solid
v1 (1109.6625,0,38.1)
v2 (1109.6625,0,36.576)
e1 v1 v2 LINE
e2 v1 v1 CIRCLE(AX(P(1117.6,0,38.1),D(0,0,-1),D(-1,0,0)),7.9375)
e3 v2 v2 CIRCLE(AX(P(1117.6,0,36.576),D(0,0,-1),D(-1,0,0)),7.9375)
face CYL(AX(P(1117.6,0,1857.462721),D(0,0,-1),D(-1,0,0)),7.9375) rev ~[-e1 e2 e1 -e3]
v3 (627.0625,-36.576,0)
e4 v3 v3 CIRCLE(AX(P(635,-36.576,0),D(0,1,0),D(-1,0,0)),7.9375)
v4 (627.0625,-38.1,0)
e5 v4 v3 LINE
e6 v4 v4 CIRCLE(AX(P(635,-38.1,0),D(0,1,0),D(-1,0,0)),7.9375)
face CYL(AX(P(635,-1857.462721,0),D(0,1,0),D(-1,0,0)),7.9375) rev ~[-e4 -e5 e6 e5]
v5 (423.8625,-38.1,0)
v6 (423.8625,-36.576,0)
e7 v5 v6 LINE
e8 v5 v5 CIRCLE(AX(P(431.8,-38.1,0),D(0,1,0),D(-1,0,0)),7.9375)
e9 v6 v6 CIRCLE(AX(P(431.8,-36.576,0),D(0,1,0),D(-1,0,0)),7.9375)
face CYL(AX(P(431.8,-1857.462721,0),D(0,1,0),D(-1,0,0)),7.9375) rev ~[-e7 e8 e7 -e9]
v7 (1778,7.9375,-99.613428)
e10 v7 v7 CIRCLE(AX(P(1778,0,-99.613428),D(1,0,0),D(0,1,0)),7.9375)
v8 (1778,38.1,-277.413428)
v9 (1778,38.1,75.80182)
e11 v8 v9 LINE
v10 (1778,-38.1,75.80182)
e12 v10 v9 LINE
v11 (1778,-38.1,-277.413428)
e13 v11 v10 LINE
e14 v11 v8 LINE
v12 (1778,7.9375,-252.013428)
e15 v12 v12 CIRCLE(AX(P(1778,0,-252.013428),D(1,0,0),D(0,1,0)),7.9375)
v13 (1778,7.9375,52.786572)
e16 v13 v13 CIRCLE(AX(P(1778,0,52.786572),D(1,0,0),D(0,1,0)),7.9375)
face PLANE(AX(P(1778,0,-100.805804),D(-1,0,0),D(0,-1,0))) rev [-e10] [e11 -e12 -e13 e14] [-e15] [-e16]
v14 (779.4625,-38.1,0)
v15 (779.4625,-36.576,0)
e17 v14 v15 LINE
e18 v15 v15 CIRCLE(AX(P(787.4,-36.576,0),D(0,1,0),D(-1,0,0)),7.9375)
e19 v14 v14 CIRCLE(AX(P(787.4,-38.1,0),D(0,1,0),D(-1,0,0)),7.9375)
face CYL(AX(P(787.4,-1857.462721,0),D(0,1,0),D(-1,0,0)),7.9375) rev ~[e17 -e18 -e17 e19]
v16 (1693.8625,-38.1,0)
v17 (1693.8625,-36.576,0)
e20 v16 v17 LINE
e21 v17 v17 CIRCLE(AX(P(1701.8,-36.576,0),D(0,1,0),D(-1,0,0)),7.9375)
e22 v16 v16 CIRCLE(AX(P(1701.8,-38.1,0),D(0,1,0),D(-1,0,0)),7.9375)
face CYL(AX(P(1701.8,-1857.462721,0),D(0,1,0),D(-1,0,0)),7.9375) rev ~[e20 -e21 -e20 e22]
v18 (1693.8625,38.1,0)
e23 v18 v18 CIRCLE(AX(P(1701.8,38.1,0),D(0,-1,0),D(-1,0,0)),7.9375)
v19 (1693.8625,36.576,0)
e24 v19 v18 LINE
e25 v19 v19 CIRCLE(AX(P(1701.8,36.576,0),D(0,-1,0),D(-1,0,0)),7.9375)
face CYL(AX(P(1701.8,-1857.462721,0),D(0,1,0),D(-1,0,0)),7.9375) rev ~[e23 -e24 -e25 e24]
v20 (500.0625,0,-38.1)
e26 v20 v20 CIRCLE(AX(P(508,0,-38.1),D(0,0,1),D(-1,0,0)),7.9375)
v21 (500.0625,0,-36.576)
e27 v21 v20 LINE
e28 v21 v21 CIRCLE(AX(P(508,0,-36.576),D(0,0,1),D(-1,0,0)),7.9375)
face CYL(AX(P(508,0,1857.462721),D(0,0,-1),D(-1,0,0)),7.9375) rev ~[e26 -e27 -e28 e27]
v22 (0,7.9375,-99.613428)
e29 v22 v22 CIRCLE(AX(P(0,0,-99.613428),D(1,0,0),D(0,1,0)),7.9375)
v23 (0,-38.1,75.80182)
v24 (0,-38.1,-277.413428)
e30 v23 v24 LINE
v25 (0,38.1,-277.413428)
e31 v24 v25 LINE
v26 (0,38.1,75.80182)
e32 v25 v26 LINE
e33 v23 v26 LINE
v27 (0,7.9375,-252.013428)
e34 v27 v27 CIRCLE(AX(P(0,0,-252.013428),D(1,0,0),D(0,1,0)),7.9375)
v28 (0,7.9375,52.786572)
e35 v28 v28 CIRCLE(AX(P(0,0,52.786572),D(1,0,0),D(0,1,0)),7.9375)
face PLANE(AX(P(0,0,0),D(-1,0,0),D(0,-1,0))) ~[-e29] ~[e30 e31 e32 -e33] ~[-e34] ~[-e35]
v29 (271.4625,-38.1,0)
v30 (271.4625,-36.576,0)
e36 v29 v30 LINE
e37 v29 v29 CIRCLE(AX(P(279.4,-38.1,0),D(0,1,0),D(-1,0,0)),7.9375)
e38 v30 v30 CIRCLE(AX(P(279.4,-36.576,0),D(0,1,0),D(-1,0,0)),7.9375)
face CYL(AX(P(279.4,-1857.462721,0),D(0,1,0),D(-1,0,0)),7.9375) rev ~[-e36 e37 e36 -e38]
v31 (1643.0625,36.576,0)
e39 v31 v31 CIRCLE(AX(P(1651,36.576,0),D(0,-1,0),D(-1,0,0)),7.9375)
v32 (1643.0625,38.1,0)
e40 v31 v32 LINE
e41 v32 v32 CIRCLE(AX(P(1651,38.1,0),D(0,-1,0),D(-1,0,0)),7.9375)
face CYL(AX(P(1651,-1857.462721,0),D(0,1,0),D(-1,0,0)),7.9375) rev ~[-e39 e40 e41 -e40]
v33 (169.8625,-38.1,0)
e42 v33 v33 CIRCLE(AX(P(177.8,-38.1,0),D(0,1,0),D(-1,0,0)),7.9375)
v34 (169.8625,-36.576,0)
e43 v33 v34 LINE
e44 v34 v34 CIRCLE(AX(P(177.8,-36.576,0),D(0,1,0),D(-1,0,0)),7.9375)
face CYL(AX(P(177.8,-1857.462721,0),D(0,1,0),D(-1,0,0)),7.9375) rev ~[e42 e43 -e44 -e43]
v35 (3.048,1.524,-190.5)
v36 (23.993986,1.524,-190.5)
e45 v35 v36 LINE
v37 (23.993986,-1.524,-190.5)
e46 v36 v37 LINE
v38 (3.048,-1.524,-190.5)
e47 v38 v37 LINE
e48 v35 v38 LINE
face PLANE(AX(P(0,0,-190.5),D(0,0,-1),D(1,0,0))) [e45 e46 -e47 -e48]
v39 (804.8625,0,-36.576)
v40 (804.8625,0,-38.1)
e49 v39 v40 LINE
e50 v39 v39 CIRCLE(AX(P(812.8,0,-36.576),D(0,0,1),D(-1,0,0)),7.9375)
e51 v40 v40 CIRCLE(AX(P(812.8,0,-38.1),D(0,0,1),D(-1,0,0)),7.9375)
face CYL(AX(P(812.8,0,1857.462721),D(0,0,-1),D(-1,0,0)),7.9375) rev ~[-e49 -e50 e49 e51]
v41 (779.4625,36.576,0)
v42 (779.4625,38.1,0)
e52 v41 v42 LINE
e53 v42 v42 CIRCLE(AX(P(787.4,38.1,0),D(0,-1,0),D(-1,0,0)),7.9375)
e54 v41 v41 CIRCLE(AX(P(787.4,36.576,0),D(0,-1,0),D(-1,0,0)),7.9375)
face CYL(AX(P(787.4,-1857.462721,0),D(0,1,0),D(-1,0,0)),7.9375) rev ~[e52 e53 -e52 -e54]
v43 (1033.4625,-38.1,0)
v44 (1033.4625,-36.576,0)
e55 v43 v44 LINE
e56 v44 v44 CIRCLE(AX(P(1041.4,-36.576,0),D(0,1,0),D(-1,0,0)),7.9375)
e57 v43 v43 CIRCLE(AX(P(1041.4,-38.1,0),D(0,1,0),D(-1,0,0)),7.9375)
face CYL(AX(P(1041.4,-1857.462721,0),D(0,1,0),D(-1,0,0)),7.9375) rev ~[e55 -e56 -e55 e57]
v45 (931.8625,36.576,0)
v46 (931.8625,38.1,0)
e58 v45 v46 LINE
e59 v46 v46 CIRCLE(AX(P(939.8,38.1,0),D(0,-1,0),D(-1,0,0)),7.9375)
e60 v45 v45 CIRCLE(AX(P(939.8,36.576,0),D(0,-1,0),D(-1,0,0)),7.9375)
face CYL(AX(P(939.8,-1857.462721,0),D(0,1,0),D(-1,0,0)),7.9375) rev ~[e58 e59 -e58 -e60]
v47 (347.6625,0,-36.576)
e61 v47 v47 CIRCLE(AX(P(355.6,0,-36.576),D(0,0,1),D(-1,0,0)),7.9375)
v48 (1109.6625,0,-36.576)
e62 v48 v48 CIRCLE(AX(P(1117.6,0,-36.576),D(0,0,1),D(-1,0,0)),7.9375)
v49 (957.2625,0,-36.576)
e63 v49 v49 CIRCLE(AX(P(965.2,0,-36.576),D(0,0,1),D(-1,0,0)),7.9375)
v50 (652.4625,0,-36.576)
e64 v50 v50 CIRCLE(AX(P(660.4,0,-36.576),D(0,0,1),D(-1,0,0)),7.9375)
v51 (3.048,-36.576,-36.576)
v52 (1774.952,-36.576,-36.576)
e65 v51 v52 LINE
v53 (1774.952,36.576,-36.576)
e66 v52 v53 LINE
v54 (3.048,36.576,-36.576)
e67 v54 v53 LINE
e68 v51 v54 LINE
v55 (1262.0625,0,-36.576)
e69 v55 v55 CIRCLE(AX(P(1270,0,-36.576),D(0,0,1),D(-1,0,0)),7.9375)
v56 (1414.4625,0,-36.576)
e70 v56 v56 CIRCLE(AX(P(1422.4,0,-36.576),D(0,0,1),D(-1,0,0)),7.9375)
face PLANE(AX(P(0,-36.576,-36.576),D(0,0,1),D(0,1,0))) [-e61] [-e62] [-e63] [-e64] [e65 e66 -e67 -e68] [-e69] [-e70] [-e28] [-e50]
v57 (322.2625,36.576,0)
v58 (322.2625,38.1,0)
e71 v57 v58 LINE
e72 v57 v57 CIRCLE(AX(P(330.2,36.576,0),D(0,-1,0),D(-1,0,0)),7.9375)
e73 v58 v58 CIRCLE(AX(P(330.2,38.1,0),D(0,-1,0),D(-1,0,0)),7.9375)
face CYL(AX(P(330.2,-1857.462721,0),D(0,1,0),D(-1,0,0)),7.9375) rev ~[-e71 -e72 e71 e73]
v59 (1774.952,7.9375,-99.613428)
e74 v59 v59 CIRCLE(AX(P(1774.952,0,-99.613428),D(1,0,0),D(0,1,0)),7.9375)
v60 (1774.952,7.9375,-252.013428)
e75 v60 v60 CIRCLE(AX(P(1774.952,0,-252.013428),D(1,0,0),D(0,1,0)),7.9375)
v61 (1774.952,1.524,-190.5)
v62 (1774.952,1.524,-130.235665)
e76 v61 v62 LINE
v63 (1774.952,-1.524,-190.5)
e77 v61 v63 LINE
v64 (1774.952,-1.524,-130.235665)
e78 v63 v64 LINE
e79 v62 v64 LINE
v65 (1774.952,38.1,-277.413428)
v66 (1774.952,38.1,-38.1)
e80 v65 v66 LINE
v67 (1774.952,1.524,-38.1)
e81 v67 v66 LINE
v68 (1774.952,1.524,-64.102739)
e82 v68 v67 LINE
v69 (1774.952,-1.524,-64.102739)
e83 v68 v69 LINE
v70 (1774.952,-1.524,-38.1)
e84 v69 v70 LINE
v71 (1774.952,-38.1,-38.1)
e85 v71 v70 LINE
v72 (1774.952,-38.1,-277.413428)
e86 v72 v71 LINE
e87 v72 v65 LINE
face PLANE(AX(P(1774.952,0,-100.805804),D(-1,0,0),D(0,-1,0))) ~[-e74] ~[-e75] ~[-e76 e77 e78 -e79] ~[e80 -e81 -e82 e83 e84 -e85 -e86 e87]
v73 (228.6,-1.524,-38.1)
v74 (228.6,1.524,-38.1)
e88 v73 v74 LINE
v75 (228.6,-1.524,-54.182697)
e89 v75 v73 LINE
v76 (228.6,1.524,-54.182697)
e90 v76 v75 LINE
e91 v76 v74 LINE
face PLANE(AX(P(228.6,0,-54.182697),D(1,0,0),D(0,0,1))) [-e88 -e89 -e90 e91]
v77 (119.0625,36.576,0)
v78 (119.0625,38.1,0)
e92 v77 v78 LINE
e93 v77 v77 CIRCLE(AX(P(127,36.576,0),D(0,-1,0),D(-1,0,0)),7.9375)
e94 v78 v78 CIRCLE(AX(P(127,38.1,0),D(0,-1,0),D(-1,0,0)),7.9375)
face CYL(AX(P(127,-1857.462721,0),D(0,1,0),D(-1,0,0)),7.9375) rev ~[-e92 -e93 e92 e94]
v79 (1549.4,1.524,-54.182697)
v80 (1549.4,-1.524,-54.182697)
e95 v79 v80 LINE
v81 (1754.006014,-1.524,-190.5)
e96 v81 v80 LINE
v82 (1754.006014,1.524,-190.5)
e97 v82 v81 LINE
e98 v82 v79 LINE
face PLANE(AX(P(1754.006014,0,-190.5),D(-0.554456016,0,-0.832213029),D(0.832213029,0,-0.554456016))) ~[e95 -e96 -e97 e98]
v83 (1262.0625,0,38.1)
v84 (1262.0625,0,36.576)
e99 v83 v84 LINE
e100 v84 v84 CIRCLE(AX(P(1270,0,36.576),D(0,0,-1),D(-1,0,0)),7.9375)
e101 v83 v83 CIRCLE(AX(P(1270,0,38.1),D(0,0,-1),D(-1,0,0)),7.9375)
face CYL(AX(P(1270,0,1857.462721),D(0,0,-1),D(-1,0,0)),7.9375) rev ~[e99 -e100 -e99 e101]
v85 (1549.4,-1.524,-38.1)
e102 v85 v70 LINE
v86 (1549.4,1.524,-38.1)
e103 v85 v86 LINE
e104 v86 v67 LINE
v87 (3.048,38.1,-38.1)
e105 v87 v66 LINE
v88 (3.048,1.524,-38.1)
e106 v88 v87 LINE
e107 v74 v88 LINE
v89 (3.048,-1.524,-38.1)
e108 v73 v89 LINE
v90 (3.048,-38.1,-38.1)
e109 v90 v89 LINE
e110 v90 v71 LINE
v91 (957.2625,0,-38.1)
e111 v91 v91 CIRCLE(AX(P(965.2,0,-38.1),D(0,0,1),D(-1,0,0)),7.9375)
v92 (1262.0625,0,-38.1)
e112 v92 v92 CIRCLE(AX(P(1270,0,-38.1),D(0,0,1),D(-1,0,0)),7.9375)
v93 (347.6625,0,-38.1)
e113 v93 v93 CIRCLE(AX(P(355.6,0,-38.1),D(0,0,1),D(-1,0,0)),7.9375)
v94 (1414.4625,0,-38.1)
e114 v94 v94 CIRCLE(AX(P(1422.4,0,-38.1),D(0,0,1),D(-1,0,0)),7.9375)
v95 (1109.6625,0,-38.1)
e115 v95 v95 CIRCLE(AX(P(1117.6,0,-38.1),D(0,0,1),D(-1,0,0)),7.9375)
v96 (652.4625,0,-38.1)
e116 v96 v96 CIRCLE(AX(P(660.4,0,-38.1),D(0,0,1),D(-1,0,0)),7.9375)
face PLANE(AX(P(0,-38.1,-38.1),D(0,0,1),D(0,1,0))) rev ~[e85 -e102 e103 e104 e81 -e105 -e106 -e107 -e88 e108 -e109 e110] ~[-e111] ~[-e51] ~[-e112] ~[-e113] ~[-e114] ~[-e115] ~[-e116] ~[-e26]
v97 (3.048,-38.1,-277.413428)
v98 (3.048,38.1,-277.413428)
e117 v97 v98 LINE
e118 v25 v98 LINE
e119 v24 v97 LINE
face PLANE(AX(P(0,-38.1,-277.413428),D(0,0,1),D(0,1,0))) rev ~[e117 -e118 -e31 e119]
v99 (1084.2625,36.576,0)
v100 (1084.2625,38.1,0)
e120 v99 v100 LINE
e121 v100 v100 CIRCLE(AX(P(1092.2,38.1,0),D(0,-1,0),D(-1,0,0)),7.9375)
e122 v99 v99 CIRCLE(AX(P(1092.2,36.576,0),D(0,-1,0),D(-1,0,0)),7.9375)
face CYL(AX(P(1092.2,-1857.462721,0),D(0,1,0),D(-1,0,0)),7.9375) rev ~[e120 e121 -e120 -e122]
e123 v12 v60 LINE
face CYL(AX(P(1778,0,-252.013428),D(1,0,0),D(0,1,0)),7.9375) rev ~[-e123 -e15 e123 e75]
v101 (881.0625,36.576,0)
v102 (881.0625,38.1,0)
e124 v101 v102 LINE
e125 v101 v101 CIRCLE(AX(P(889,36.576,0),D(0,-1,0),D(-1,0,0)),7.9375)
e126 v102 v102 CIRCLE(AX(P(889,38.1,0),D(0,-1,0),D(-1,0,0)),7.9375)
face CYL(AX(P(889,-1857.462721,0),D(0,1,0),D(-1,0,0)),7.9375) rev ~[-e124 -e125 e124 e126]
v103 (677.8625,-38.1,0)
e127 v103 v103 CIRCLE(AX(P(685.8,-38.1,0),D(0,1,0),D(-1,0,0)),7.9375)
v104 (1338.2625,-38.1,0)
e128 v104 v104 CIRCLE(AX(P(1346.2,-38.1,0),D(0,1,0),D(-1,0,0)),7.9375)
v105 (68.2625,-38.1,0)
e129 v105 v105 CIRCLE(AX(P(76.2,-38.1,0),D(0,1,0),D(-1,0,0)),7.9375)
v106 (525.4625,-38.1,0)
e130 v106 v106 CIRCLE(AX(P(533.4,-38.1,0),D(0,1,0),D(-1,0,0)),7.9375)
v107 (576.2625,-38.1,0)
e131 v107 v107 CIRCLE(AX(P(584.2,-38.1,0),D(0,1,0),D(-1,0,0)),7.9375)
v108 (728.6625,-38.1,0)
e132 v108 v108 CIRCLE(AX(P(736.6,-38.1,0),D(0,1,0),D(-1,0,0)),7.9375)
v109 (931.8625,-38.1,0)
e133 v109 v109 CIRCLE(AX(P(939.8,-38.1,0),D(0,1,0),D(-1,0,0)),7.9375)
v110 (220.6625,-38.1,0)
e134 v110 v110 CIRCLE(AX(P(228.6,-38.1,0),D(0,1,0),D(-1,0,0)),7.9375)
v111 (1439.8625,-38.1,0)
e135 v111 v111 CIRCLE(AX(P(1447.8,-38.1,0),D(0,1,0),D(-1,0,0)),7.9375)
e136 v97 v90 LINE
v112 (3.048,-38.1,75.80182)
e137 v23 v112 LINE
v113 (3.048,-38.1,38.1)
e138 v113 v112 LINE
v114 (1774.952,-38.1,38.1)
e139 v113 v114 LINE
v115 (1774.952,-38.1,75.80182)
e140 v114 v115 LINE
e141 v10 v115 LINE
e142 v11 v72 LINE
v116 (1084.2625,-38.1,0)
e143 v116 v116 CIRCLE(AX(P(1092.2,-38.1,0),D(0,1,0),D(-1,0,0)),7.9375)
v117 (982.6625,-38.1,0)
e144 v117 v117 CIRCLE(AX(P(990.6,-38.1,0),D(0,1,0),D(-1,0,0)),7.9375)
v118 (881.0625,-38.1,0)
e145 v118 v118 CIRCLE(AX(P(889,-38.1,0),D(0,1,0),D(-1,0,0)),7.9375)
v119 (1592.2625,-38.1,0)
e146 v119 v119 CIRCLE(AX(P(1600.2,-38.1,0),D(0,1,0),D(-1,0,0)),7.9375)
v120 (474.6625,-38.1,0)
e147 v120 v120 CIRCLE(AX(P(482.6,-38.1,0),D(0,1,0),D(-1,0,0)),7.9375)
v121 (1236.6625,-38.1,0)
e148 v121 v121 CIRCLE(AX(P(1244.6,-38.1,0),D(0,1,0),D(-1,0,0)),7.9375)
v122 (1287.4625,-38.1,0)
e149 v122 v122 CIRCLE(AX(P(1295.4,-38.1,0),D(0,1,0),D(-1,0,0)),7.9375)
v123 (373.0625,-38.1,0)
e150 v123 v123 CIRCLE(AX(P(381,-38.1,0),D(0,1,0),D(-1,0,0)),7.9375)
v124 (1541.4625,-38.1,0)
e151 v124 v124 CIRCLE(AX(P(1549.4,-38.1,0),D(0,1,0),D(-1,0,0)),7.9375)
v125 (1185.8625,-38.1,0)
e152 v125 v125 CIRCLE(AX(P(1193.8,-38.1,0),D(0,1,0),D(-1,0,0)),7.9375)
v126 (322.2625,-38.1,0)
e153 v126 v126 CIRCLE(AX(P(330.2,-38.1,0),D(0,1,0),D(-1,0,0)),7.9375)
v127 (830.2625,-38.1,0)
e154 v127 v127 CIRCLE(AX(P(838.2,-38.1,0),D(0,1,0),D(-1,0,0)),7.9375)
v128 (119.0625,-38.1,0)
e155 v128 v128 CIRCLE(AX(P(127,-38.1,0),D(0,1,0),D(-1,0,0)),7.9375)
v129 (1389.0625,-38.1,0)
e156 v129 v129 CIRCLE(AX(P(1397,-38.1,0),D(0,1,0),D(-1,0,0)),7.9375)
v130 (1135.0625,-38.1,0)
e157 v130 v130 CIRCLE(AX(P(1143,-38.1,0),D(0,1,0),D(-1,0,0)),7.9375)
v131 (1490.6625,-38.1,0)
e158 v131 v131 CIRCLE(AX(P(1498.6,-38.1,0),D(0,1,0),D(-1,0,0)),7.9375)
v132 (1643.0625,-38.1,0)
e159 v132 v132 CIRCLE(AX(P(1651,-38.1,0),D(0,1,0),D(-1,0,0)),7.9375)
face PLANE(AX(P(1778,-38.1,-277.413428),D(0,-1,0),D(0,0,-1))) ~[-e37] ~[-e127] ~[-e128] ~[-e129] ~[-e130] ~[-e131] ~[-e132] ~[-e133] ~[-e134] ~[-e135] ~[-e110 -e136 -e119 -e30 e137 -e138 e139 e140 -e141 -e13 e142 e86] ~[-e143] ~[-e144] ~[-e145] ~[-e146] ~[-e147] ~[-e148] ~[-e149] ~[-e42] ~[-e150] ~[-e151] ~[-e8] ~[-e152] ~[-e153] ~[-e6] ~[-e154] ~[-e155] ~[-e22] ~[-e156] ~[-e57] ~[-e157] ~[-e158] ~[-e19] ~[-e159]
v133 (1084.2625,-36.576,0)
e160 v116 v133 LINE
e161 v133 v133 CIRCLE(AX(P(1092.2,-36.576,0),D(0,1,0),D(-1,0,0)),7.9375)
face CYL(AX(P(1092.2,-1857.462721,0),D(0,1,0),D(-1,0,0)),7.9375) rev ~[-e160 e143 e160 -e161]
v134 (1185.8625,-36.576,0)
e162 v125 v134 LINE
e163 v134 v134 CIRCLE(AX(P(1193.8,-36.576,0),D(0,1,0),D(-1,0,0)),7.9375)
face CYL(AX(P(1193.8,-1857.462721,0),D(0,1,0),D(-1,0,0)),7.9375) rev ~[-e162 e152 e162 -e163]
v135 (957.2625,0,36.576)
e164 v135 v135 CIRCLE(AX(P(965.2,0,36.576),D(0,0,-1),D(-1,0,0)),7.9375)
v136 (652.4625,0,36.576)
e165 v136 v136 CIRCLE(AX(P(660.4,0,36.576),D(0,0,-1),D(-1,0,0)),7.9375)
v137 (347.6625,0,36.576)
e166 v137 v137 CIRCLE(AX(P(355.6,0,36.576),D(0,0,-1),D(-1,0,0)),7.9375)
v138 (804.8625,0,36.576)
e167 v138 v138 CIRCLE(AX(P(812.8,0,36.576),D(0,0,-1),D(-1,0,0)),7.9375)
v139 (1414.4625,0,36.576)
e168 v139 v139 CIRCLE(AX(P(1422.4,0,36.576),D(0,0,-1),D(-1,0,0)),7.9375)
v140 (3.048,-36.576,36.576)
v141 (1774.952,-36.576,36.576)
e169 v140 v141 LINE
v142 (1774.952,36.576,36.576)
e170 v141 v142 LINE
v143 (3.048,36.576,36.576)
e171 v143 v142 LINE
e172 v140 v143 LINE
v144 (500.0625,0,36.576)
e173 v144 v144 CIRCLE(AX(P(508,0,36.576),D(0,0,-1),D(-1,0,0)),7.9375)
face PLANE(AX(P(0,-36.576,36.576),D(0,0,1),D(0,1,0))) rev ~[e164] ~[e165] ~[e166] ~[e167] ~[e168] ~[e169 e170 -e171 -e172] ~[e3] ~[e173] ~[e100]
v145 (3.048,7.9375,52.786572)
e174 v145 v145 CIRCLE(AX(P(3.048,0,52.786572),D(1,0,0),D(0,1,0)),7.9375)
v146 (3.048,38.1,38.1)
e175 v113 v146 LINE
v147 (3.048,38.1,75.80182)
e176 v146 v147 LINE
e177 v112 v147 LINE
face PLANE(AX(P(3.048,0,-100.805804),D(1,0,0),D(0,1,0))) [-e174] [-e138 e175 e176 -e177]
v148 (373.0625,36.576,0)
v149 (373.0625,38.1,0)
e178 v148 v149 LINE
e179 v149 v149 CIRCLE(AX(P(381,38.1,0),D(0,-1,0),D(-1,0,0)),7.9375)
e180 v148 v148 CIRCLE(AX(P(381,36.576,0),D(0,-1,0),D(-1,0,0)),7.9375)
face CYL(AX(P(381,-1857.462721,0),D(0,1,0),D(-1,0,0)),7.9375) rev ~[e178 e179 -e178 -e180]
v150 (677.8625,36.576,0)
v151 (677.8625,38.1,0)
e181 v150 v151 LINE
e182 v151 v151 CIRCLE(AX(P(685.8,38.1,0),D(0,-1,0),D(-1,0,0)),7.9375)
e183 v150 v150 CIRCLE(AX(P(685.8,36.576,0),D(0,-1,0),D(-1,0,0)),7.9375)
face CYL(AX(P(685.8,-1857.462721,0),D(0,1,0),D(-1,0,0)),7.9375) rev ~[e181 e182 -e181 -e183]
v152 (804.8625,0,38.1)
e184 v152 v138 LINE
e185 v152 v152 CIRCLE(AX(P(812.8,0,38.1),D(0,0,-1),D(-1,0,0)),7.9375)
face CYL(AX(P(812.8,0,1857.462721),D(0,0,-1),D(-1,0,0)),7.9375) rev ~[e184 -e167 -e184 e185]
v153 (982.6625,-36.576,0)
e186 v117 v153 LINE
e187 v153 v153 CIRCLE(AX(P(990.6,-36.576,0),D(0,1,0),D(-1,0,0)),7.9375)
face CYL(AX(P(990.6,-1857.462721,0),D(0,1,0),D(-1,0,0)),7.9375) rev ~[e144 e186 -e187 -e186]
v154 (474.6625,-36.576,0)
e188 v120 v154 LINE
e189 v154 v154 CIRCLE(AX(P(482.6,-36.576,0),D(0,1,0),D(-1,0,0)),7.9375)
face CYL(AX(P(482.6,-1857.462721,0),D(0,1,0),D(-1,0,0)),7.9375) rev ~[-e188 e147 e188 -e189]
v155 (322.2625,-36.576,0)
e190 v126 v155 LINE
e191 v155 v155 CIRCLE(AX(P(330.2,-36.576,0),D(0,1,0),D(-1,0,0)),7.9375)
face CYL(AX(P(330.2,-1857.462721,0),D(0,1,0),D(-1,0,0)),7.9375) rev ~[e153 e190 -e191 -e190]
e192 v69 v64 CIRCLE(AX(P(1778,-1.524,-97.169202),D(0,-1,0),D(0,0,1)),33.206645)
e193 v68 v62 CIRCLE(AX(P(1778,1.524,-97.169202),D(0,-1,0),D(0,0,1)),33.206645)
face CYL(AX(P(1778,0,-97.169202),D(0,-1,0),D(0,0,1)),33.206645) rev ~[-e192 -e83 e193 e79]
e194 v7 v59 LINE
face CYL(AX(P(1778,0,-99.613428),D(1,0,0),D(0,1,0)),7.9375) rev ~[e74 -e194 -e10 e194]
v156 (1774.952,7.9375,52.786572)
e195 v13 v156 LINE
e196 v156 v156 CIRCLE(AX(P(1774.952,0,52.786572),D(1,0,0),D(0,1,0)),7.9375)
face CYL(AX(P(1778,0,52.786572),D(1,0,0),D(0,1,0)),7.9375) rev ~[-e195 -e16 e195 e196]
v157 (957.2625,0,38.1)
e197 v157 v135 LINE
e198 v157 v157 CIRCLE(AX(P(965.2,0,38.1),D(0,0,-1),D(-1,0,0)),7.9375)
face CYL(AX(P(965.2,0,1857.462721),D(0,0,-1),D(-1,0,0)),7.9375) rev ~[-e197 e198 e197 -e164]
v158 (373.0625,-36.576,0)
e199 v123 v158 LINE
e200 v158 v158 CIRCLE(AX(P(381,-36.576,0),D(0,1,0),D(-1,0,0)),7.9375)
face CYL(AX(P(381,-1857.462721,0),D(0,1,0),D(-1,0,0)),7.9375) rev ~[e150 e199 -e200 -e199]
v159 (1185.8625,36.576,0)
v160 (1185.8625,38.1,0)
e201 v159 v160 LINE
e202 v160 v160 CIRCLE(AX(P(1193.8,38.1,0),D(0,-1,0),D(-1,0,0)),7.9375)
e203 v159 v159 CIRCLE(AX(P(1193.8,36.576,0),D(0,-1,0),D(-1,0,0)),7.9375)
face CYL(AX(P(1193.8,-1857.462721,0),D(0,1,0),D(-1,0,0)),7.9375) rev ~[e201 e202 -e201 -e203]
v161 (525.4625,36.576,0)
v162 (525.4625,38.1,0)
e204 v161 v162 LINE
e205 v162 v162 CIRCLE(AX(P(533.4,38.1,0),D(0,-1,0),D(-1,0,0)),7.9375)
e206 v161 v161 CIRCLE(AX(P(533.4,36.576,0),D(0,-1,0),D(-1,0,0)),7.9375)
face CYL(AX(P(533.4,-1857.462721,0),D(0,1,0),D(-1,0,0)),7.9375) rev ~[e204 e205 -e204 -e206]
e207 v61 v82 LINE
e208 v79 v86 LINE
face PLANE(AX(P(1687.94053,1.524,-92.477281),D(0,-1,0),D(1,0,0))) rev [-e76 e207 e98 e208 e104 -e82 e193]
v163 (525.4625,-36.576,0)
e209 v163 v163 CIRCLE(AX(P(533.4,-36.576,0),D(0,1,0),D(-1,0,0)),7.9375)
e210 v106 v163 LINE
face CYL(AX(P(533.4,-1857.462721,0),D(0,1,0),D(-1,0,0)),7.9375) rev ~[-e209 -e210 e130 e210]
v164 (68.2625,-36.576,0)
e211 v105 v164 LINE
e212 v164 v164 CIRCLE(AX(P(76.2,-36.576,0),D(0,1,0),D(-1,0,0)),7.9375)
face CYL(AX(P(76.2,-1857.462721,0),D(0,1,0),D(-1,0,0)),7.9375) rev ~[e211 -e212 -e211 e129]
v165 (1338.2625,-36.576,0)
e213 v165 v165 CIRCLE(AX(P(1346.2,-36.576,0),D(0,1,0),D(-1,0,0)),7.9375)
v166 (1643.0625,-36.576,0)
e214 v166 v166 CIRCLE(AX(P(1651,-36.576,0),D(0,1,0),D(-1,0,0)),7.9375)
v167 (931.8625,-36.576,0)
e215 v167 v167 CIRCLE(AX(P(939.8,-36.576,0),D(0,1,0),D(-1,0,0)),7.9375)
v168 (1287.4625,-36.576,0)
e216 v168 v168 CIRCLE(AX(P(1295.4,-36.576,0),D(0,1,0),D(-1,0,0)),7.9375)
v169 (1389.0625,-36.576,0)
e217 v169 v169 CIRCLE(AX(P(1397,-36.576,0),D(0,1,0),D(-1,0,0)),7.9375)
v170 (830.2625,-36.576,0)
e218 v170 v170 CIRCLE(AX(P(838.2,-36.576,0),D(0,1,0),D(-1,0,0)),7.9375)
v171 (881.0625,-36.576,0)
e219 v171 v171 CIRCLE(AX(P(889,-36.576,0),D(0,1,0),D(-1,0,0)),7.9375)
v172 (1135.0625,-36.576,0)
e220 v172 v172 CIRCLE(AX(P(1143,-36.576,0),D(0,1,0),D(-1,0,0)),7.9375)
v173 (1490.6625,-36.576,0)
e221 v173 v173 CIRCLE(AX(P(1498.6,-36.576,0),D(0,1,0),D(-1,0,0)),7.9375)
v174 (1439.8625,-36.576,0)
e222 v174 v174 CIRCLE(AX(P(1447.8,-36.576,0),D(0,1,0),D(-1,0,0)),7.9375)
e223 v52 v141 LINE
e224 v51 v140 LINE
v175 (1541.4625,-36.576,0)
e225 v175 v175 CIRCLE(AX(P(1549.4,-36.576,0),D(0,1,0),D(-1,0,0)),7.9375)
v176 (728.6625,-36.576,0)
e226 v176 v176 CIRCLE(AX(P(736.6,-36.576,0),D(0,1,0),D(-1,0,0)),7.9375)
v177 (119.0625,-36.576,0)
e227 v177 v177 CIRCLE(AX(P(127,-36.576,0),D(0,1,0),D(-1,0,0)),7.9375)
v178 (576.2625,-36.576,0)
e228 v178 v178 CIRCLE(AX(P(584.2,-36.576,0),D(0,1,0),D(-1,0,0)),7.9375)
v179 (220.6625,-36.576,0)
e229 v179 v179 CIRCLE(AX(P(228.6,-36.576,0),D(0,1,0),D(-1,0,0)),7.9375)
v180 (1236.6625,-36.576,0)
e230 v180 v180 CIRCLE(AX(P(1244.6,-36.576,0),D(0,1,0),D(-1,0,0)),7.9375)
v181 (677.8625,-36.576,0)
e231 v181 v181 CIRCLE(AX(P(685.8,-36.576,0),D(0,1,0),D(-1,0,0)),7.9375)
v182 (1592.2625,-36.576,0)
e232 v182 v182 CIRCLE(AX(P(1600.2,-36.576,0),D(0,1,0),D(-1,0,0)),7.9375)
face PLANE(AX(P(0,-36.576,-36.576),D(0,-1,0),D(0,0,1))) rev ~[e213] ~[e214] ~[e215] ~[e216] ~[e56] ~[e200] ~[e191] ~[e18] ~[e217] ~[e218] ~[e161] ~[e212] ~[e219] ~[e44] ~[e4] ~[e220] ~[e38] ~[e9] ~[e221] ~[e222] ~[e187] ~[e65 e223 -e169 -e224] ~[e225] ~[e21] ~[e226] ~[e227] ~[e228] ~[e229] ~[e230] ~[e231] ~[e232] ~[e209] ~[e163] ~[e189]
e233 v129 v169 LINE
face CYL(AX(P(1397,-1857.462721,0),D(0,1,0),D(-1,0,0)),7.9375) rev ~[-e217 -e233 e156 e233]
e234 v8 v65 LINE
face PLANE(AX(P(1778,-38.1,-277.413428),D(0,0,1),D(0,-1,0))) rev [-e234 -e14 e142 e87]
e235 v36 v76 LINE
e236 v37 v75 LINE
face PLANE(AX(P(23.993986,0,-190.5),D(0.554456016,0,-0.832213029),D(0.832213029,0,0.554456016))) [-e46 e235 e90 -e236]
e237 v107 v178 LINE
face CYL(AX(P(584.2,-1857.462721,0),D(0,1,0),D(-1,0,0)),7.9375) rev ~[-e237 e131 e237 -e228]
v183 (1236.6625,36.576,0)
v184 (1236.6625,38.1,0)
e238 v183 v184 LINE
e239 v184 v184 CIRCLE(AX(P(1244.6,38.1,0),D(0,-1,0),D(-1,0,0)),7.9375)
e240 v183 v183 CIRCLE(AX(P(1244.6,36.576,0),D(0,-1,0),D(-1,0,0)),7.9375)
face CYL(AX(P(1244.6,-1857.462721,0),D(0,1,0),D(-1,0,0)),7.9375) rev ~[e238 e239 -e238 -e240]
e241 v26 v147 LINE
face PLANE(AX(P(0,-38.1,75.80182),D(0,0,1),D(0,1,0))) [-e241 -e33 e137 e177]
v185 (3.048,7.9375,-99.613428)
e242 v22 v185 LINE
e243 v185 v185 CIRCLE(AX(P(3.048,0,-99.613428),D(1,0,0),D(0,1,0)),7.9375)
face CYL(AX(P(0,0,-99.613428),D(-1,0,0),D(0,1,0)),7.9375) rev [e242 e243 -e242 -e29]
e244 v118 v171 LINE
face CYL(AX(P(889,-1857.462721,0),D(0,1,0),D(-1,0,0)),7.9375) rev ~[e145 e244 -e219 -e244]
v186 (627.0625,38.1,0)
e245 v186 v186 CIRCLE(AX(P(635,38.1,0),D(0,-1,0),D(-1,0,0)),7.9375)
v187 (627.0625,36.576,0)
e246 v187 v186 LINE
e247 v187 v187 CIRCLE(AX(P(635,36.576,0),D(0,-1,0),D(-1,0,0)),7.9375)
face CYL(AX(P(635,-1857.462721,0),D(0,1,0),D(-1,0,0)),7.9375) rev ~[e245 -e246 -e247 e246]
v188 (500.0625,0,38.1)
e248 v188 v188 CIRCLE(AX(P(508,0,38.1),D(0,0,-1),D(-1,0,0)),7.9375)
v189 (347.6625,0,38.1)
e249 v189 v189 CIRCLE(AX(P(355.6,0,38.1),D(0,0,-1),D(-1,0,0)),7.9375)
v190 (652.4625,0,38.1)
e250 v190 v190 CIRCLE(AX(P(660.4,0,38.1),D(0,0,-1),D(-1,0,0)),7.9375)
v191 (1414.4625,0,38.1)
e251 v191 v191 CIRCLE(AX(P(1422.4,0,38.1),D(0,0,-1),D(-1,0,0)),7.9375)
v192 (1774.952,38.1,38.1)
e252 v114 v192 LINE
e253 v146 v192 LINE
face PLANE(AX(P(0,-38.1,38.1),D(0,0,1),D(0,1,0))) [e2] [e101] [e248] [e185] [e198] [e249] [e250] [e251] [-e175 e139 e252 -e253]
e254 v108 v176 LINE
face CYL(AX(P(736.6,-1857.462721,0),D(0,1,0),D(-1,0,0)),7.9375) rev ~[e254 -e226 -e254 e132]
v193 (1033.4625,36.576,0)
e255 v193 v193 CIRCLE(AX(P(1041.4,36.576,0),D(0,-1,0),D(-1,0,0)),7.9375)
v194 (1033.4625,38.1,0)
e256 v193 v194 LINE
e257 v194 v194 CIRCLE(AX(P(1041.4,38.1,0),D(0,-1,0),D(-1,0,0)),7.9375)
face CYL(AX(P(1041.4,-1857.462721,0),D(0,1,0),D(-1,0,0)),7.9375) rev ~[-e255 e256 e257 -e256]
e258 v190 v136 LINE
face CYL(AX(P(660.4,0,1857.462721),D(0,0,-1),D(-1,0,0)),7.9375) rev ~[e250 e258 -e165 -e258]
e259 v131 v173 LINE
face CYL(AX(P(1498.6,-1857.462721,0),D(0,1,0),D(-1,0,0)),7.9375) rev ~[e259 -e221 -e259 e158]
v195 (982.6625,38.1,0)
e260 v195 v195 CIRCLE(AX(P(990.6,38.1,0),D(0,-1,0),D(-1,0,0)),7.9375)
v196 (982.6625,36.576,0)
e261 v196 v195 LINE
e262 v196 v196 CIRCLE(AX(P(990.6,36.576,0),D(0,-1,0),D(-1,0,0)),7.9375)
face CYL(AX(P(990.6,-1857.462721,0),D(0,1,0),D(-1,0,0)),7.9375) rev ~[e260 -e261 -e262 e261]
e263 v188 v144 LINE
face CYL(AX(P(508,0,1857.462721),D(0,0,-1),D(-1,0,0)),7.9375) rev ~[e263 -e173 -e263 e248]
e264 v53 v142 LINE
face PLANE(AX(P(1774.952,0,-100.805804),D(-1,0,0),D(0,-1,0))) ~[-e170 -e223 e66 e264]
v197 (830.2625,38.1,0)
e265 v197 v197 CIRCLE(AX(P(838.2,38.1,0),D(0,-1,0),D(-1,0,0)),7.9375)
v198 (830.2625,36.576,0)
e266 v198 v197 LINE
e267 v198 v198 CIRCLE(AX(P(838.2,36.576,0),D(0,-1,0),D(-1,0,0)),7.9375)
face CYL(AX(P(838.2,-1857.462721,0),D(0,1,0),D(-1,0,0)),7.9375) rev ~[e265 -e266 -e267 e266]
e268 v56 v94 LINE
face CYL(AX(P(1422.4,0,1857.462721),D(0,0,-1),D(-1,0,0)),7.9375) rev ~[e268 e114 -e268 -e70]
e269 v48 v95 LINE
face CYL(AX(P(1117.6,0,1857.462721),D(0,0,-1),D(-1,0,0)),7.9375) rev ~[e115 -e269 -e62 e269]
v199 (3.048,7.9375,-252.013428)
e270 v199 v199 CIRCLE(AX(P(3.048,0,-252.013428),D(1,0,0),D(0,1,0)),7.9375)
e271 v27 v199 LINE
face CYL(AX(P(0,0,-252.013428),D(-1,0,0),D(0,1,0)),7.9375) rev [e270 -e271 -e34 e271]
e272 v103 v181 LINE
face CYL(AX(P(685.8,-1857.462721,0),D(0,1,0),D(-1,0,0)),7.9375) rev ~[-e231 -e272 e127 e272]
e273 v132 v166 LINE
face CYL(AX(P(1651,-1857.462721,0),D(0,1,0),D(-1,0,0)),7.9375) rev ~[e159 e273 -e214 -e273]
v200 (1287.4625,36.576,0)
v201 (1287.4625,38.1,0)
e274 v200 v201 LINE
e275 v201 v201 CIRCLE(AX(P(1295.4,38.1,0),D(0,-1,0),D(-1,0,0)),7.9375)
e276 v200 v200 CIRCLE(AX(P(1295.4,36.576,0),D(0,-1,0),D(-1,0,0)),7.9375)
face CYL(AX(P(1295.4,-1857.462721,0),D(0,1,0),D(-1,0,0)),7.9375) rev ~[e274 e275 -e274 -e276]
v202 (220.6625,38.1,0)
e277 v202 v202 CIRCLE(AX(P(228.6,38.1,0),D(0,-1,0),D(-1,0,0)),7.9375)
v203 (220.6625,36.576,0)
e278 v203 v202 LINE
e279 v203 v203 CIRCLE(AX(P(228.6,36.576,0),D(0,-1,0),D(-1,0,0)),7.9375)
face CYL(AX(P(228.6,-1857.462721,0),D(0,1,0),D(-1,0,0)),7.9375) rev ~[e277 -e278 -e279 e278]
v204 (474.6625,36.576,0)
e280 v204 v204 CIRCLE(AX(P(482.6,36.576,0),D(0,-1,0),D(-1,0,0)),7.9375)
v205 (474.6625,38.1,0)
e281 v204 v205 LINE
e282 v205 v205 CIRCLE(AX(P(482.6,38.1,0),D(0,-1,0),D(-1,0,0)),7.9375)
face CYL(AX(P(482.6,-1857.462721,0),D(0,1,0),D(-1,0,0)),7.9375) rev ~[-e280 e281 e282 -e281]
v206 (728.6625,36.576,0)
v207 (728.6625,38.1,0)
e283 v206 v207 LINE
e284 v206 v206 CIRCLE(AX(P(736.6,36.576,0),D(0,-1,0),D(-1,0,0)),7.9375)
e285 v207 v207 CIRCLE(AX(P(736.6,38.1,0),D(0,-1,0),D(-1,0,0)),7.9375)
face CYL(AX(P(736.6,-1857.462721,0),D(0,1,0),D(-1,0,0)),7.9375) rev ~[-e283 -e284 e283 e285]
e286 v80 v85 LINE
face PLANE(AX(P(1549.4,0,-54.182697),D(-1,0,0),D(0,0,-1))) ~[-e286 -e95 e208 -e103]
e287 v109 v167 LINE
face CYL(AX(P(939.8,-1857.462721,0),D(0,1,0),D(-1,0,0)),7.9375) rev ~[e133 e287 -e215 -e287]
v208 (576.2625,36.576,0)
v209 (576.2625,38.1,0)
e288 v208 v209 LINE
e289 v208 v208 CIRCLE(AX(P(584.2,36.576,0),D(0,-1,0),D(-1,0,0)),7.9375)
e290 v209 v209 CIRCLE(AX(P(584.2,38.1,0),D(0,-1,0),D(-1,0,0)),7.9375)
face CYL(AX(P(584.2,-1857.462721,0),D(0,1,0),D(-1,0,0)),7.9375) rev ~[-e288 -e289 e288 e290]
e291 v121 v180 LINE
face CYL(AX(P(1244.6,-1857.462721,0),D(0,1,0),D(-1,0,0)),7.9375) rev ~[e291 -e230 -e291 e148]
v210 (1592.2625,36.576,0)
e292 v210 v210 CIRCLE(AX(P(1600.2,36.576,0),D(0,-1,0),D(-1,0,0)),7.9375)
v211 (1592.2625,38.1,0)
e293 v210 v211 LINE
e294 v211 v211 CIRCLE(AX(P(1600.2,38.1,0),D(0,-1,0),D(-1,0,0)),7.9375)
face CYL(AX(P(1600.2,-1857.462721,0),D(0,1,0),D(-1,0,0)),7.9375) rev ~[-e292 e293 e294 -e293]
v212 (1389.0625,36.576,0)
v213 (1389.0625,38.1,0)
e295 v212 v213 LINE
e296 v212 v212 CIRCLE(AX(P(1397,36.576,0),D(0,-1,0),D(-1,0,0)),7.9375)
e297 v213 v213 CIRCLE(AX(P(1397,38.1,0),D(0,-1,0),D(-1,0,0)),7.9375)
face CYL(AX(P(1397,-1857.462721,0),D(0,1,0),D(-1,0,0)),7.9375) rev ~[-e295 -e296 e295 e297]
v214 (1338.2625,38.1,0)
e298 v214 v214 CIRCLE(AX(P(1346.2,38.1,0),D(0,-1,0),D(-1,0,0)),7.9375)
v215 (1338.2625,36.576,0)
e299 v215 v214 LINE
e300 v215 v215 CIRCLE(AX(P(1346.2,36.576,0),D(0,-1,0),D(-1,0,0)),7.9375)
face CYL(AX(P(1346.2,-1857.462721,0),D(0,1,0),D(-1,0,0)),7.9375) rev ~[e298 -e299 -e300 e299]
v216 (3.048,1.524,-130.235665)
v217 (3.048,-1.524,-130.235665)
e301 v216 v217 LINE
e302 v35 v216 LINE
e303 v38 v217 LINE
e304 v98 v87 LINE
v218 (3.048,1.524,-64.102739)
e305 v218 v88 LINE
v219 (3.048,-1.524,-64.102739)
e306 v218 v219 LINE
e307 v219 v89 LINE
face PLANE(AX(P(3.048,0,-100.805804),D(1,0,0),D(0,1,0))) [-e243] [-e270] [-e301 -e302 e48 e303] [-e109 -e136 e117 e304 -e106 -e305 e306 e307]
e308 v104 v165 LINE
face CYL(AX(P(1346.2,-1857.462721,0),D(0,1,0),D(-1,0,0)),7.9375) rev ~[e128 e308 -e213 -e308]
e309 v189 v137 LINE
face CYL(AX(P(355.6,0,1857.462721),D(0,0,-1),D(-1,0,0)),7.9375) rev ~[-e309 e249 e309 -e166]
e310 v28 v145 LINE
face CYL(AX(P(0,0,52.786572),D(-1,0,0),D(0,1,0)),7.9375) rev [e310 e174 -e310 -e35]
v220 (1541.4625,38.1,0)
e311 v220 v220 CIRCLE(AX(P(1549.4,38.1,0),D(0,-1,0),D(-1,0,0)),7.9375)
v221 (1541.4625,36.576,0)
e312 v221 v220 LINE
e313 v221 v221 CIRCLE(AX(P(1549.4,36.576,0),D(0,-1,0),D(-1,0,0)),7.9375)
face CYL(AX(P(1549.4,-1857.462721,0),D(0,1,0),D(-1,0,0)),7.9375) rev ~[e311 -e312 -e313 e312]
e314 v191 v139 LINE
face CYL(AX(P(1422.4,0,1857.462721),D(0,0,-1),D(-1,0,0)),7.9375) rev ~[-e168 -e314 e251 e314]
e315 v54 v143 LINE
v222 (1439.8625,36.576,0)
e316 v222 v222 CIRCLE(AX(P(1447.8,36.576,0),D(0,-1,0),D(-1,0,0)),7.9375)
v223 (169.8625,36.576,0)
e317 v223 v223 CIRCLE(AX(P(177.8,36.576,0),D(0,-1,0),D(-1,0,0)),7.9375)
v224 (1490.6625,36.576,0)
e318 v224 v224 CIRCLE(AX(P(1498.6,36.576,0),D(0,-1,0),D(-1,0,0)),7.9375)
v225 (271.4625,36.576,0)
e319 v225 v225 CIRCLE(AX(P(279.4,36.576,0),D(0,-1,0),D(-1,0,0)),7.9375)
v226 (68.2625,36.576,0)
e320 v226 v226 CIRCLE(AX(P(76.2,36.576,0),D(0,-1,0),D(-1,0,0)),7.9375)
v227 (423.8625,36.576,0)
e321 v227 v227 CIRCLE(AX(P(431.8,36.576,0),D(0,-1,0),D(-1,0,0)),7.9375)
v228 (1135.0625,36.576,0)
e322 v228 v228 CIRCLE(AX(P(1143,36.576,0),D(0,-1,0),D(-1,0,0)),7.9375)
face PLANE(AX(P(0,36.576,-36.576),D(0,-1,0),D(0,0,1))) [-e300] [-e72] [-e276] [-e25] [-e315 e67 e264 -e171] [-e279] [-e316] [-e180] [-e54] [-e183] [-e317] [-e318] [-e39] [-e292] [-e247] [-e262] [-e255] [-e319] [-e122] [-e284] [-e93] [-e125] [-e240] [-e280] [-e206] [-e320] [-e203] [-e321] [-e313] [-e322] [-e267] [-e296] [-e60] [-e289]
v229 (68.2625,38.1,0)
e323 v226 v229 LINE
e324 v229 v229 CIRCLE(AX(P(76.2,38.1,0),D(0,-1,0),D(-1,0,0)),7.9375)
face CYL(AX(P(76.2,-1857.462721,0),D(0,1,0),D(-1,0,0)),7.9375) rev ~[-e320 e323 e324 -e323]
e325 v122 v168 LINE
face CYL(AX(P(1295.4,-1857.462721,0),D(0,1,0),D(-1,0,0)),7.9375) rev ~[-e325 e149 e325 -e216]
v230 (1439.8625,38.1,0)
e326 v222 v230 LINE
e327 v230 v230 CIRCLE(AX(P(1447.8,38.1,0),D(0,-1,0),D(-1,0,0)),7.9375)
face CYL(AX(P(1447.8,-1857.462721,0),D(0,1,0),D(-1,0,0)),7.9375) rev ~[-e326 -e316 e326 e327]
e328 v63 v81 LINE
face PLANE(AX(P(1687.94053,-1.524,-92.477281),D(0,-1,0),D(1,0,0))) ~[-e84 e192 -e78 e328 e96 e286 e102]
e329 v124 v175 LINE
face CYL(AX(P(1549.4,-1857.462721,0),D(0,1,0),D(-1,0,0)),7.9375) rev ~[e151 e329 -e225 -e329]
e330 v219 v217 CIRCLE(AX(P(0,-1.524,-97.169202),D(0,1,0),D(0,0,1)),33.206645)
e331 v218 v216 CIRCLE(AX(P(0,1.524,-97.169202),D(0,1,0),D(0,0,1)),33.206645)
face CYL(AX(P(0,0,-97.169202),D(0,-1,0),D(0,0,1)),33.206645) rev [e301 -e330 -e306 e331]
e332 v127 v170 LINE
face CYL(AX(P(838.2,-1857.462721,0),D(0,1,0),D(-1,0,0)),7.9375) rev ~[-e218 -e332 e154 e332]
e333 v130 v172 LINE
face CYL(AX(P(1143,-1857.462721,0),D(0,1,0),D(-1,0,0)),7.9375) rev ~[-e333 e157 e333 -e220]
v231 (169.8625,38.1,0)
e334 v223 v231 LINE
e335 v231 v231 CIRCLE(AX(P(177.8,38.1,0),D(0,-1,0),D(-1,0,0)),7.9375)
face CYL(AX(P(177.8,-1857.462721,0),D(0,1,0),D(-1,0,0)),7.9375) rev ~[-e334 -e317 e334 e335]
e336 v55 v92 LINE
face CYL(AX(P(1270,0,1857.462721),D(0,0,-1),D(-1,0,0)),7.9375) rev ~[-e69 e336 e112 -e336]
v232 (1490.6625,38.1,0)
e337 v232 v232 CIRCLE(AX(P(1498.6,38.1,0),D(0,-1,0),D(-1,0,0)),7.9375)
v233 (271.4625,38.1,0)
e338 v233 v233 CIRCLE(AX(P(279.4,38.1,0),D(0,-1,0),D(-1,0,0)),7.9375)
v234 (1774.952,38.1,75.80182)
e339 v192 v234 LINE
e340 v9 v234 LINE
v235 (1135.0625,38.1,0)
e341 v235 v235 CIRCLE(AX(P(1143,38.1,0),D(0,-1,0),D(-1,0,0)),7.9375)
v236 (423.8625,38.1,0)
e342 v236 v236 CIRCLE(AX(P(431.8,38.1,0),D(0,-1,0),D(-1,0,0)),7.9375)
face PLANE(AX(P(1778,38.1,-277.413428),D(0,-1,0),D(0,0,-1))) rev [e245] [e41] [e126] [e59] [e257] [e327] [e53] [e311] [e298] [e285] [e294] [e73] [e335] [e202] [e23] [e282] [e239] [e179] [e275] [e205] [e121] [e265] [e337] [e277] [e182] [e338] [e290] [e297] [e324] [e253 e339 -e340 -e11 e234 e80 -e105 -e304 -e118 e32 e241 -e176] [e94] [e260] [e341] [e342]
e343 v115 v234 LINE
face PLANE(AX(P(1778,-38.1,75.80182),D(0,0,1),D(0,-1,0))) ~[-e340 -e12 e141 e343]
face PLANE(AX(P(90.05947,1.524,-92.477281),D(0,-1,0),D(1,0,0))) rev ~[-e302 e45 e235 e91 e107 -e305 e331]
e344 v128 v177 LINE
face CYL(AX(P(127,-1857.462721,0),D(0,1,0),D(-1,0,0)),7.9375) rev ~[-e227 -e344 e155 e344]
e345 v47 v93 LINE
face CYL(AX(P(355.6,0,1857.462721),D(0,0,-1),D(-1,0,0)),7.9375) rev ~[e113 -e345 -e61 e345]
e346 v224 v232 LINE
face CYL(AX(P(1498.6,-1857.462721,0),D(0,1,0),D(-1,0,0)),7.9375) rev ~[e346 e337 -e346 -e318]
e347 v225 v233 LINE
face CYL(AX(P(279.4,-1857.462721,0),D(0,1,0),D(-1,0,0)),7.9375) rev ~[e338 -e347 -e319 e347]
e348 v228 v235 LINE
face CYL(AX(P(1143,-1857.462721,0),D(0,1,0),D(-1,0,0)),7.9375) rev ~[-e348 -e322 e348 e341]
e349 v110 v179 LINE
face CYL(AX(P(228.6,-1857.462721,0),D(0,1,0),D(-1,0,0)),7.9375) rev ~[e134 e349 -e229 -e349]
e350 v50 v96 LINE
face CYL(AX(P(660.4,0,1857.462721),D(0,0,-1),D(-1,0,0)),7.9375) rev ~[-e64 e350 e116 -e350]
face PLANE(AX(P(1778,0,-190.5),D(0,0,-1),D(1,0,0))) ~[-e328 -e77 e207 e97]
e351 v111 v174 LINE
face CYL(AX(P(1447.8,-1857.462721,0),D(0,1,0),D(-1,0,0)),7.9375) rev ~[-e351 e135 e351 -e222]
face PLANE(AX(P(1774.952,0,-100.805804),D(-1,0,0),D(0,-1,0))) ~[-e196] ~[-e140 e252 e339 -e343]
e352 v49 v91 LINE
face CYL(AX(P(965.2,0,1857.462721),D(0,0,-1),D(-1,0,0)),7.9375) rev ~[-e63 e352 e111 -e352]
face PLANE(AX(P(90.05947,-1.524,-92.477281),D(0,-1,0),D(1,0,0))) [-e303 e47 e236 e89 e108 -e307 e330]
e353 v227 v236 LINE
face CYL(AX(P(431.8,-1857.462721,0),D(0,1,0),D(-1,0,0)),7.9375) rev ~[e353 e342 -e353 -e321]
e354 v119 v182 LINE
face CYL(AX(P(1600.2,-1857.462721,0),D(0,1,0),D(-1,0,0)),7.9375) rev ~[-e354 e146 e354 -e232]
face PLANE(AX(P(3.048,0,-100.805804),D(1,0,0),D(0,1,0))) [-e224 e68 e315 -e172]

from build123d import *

# Parameters (mm, degrees)
F0_W       = 76.2
F0_H       = 76.2
F0_W_2     = 73.152
F0_H_2     = 73.152
F1_DEPTH   = 1778
F6_D       = 15.875
F6_ON_F5_D = 15.875
F8_DEPTH   = 1.524
F9_DEPTH   = 1.524
F10_W      = 76.2
F10_H      = 353.2152473927
F10_R      = 7.9375
F11_DEPTH  = 3.048


with BuildPart() as f1:
    # F0 (on Right) → F1 (new body)
    with BuildSketch(Plane.YZ):
        Rectangle(F0_W, F0_H)
        Rectangle(F0_W_2, F0_H_2, mode=Mode.SUBTRACT)
    extrude(amount=F1_DEPTH)

    # F6 (through all)
    with Locations(Plane.XZ.offset(76.2)):
        with Locations((76.2, 0), (127, 0), (177.8, 0), (228.6, 0), (279.4, 0), (330.2, 0), (381, 0), (431.8, 0), (482.6, 0), (533.4, 0), (584.2, 0), (635, 0), (685.8, 0), (736.6, 0), (787.4, 0), (838.2, 0), (889, 0), (939.8, 0), (990.6, 0), (1041.4, 0), (1092.2, 0), (1143, 0), (1193.8, 0), (1244.6, 0), (1295.4, 0), (1346.2, 0), (1397, 0), (1447.8, 0), (1498.6, 0), (1549.4, 0), (1600.2, 0), (1651, 0), (1701.8, 0)):
            Hole(F6_D / 2)

    # F6 on F5 (through all)
    with Locations(Plane.XY.offset(76.2)):
        with Locations((1422.4, 0), (1270, 0), (1117.6, 0), (965.2, 0), (812.8, 0), (660.4, 0), (508, 0), (355.6, 0)):
            Hole(F6_ON_F5_D / 2)

    # F7 (on Front) → F8 (join)
    with BuildSketch(Plane.XZ):
        with BuildLine():
            Line((228.6, -38.1), (0, -38.1))
            Line((0, -38.1), (0, -63.9625564218))
            ThreePointArc((0, -63.9625564218), (33.2066453993, -97.1692018211), (0, -130.3758472204))
            Line((0, -130.3758472204), (0, -190.5))
            Line((0, -190.5), (23.9939857274, -190.5))
            Line((23.9939857274, -190.5), (228.6, -54.1826970875))
            Line((228.6, -54.1826970875), (228.6, -38.1))
        make_face()
    extrude(amount=F8_DEPTH)

    # F7 (on Front) → F9 (join)
    with BuildSketch(Plane.XZ):
        with BuildLine():
            Line((228.6, -38.1), (0, -38.1))
            Line((0, -38.1), (0, -63.9625564218))
            ThreePointArc((0, -63.9625564218), (33.2066453993, -97.1692018211), (0, -130.3758472204))
            Line((0, -130.3758472204), (0, -190.5))
            Line((0, -190.5), (23.9939857274, -190.5))
            Line((23.9939857274, -190.5), (228.6, -54.1826970875))
            Line((228.6, -54.1826970875), (228.6, -38.1))
        make_face()
    extrude(amount=-F9_DEPTH)

    # F10 (on Right) → F11 (join)
    with BuildSketch(Plane.YZ):
        with Locations((0, -100.8058041334)):
            Rectangle(F10_W, F10_H)
        with Locations((0, -252.0134278297)):
            Circle(F10_R, mode=Mode.SUBTRACT)
        with Locations((0, -99.6134278297)):
            Circle(F10_R, mode=Mode.SUBTRACT)
        with Locations((0, 52.7865721703)):
            Circle(F10_R, mode=Mode.SUBTRACT)
    extrude(amount=F11_DEPTH)

    # F13: F1 across plane


with BuildPart() as f1_1:
    add(f1.part)
    add(f1.part.mirror(Plane.YZ.offset(889)))


solid = f1_1.part
